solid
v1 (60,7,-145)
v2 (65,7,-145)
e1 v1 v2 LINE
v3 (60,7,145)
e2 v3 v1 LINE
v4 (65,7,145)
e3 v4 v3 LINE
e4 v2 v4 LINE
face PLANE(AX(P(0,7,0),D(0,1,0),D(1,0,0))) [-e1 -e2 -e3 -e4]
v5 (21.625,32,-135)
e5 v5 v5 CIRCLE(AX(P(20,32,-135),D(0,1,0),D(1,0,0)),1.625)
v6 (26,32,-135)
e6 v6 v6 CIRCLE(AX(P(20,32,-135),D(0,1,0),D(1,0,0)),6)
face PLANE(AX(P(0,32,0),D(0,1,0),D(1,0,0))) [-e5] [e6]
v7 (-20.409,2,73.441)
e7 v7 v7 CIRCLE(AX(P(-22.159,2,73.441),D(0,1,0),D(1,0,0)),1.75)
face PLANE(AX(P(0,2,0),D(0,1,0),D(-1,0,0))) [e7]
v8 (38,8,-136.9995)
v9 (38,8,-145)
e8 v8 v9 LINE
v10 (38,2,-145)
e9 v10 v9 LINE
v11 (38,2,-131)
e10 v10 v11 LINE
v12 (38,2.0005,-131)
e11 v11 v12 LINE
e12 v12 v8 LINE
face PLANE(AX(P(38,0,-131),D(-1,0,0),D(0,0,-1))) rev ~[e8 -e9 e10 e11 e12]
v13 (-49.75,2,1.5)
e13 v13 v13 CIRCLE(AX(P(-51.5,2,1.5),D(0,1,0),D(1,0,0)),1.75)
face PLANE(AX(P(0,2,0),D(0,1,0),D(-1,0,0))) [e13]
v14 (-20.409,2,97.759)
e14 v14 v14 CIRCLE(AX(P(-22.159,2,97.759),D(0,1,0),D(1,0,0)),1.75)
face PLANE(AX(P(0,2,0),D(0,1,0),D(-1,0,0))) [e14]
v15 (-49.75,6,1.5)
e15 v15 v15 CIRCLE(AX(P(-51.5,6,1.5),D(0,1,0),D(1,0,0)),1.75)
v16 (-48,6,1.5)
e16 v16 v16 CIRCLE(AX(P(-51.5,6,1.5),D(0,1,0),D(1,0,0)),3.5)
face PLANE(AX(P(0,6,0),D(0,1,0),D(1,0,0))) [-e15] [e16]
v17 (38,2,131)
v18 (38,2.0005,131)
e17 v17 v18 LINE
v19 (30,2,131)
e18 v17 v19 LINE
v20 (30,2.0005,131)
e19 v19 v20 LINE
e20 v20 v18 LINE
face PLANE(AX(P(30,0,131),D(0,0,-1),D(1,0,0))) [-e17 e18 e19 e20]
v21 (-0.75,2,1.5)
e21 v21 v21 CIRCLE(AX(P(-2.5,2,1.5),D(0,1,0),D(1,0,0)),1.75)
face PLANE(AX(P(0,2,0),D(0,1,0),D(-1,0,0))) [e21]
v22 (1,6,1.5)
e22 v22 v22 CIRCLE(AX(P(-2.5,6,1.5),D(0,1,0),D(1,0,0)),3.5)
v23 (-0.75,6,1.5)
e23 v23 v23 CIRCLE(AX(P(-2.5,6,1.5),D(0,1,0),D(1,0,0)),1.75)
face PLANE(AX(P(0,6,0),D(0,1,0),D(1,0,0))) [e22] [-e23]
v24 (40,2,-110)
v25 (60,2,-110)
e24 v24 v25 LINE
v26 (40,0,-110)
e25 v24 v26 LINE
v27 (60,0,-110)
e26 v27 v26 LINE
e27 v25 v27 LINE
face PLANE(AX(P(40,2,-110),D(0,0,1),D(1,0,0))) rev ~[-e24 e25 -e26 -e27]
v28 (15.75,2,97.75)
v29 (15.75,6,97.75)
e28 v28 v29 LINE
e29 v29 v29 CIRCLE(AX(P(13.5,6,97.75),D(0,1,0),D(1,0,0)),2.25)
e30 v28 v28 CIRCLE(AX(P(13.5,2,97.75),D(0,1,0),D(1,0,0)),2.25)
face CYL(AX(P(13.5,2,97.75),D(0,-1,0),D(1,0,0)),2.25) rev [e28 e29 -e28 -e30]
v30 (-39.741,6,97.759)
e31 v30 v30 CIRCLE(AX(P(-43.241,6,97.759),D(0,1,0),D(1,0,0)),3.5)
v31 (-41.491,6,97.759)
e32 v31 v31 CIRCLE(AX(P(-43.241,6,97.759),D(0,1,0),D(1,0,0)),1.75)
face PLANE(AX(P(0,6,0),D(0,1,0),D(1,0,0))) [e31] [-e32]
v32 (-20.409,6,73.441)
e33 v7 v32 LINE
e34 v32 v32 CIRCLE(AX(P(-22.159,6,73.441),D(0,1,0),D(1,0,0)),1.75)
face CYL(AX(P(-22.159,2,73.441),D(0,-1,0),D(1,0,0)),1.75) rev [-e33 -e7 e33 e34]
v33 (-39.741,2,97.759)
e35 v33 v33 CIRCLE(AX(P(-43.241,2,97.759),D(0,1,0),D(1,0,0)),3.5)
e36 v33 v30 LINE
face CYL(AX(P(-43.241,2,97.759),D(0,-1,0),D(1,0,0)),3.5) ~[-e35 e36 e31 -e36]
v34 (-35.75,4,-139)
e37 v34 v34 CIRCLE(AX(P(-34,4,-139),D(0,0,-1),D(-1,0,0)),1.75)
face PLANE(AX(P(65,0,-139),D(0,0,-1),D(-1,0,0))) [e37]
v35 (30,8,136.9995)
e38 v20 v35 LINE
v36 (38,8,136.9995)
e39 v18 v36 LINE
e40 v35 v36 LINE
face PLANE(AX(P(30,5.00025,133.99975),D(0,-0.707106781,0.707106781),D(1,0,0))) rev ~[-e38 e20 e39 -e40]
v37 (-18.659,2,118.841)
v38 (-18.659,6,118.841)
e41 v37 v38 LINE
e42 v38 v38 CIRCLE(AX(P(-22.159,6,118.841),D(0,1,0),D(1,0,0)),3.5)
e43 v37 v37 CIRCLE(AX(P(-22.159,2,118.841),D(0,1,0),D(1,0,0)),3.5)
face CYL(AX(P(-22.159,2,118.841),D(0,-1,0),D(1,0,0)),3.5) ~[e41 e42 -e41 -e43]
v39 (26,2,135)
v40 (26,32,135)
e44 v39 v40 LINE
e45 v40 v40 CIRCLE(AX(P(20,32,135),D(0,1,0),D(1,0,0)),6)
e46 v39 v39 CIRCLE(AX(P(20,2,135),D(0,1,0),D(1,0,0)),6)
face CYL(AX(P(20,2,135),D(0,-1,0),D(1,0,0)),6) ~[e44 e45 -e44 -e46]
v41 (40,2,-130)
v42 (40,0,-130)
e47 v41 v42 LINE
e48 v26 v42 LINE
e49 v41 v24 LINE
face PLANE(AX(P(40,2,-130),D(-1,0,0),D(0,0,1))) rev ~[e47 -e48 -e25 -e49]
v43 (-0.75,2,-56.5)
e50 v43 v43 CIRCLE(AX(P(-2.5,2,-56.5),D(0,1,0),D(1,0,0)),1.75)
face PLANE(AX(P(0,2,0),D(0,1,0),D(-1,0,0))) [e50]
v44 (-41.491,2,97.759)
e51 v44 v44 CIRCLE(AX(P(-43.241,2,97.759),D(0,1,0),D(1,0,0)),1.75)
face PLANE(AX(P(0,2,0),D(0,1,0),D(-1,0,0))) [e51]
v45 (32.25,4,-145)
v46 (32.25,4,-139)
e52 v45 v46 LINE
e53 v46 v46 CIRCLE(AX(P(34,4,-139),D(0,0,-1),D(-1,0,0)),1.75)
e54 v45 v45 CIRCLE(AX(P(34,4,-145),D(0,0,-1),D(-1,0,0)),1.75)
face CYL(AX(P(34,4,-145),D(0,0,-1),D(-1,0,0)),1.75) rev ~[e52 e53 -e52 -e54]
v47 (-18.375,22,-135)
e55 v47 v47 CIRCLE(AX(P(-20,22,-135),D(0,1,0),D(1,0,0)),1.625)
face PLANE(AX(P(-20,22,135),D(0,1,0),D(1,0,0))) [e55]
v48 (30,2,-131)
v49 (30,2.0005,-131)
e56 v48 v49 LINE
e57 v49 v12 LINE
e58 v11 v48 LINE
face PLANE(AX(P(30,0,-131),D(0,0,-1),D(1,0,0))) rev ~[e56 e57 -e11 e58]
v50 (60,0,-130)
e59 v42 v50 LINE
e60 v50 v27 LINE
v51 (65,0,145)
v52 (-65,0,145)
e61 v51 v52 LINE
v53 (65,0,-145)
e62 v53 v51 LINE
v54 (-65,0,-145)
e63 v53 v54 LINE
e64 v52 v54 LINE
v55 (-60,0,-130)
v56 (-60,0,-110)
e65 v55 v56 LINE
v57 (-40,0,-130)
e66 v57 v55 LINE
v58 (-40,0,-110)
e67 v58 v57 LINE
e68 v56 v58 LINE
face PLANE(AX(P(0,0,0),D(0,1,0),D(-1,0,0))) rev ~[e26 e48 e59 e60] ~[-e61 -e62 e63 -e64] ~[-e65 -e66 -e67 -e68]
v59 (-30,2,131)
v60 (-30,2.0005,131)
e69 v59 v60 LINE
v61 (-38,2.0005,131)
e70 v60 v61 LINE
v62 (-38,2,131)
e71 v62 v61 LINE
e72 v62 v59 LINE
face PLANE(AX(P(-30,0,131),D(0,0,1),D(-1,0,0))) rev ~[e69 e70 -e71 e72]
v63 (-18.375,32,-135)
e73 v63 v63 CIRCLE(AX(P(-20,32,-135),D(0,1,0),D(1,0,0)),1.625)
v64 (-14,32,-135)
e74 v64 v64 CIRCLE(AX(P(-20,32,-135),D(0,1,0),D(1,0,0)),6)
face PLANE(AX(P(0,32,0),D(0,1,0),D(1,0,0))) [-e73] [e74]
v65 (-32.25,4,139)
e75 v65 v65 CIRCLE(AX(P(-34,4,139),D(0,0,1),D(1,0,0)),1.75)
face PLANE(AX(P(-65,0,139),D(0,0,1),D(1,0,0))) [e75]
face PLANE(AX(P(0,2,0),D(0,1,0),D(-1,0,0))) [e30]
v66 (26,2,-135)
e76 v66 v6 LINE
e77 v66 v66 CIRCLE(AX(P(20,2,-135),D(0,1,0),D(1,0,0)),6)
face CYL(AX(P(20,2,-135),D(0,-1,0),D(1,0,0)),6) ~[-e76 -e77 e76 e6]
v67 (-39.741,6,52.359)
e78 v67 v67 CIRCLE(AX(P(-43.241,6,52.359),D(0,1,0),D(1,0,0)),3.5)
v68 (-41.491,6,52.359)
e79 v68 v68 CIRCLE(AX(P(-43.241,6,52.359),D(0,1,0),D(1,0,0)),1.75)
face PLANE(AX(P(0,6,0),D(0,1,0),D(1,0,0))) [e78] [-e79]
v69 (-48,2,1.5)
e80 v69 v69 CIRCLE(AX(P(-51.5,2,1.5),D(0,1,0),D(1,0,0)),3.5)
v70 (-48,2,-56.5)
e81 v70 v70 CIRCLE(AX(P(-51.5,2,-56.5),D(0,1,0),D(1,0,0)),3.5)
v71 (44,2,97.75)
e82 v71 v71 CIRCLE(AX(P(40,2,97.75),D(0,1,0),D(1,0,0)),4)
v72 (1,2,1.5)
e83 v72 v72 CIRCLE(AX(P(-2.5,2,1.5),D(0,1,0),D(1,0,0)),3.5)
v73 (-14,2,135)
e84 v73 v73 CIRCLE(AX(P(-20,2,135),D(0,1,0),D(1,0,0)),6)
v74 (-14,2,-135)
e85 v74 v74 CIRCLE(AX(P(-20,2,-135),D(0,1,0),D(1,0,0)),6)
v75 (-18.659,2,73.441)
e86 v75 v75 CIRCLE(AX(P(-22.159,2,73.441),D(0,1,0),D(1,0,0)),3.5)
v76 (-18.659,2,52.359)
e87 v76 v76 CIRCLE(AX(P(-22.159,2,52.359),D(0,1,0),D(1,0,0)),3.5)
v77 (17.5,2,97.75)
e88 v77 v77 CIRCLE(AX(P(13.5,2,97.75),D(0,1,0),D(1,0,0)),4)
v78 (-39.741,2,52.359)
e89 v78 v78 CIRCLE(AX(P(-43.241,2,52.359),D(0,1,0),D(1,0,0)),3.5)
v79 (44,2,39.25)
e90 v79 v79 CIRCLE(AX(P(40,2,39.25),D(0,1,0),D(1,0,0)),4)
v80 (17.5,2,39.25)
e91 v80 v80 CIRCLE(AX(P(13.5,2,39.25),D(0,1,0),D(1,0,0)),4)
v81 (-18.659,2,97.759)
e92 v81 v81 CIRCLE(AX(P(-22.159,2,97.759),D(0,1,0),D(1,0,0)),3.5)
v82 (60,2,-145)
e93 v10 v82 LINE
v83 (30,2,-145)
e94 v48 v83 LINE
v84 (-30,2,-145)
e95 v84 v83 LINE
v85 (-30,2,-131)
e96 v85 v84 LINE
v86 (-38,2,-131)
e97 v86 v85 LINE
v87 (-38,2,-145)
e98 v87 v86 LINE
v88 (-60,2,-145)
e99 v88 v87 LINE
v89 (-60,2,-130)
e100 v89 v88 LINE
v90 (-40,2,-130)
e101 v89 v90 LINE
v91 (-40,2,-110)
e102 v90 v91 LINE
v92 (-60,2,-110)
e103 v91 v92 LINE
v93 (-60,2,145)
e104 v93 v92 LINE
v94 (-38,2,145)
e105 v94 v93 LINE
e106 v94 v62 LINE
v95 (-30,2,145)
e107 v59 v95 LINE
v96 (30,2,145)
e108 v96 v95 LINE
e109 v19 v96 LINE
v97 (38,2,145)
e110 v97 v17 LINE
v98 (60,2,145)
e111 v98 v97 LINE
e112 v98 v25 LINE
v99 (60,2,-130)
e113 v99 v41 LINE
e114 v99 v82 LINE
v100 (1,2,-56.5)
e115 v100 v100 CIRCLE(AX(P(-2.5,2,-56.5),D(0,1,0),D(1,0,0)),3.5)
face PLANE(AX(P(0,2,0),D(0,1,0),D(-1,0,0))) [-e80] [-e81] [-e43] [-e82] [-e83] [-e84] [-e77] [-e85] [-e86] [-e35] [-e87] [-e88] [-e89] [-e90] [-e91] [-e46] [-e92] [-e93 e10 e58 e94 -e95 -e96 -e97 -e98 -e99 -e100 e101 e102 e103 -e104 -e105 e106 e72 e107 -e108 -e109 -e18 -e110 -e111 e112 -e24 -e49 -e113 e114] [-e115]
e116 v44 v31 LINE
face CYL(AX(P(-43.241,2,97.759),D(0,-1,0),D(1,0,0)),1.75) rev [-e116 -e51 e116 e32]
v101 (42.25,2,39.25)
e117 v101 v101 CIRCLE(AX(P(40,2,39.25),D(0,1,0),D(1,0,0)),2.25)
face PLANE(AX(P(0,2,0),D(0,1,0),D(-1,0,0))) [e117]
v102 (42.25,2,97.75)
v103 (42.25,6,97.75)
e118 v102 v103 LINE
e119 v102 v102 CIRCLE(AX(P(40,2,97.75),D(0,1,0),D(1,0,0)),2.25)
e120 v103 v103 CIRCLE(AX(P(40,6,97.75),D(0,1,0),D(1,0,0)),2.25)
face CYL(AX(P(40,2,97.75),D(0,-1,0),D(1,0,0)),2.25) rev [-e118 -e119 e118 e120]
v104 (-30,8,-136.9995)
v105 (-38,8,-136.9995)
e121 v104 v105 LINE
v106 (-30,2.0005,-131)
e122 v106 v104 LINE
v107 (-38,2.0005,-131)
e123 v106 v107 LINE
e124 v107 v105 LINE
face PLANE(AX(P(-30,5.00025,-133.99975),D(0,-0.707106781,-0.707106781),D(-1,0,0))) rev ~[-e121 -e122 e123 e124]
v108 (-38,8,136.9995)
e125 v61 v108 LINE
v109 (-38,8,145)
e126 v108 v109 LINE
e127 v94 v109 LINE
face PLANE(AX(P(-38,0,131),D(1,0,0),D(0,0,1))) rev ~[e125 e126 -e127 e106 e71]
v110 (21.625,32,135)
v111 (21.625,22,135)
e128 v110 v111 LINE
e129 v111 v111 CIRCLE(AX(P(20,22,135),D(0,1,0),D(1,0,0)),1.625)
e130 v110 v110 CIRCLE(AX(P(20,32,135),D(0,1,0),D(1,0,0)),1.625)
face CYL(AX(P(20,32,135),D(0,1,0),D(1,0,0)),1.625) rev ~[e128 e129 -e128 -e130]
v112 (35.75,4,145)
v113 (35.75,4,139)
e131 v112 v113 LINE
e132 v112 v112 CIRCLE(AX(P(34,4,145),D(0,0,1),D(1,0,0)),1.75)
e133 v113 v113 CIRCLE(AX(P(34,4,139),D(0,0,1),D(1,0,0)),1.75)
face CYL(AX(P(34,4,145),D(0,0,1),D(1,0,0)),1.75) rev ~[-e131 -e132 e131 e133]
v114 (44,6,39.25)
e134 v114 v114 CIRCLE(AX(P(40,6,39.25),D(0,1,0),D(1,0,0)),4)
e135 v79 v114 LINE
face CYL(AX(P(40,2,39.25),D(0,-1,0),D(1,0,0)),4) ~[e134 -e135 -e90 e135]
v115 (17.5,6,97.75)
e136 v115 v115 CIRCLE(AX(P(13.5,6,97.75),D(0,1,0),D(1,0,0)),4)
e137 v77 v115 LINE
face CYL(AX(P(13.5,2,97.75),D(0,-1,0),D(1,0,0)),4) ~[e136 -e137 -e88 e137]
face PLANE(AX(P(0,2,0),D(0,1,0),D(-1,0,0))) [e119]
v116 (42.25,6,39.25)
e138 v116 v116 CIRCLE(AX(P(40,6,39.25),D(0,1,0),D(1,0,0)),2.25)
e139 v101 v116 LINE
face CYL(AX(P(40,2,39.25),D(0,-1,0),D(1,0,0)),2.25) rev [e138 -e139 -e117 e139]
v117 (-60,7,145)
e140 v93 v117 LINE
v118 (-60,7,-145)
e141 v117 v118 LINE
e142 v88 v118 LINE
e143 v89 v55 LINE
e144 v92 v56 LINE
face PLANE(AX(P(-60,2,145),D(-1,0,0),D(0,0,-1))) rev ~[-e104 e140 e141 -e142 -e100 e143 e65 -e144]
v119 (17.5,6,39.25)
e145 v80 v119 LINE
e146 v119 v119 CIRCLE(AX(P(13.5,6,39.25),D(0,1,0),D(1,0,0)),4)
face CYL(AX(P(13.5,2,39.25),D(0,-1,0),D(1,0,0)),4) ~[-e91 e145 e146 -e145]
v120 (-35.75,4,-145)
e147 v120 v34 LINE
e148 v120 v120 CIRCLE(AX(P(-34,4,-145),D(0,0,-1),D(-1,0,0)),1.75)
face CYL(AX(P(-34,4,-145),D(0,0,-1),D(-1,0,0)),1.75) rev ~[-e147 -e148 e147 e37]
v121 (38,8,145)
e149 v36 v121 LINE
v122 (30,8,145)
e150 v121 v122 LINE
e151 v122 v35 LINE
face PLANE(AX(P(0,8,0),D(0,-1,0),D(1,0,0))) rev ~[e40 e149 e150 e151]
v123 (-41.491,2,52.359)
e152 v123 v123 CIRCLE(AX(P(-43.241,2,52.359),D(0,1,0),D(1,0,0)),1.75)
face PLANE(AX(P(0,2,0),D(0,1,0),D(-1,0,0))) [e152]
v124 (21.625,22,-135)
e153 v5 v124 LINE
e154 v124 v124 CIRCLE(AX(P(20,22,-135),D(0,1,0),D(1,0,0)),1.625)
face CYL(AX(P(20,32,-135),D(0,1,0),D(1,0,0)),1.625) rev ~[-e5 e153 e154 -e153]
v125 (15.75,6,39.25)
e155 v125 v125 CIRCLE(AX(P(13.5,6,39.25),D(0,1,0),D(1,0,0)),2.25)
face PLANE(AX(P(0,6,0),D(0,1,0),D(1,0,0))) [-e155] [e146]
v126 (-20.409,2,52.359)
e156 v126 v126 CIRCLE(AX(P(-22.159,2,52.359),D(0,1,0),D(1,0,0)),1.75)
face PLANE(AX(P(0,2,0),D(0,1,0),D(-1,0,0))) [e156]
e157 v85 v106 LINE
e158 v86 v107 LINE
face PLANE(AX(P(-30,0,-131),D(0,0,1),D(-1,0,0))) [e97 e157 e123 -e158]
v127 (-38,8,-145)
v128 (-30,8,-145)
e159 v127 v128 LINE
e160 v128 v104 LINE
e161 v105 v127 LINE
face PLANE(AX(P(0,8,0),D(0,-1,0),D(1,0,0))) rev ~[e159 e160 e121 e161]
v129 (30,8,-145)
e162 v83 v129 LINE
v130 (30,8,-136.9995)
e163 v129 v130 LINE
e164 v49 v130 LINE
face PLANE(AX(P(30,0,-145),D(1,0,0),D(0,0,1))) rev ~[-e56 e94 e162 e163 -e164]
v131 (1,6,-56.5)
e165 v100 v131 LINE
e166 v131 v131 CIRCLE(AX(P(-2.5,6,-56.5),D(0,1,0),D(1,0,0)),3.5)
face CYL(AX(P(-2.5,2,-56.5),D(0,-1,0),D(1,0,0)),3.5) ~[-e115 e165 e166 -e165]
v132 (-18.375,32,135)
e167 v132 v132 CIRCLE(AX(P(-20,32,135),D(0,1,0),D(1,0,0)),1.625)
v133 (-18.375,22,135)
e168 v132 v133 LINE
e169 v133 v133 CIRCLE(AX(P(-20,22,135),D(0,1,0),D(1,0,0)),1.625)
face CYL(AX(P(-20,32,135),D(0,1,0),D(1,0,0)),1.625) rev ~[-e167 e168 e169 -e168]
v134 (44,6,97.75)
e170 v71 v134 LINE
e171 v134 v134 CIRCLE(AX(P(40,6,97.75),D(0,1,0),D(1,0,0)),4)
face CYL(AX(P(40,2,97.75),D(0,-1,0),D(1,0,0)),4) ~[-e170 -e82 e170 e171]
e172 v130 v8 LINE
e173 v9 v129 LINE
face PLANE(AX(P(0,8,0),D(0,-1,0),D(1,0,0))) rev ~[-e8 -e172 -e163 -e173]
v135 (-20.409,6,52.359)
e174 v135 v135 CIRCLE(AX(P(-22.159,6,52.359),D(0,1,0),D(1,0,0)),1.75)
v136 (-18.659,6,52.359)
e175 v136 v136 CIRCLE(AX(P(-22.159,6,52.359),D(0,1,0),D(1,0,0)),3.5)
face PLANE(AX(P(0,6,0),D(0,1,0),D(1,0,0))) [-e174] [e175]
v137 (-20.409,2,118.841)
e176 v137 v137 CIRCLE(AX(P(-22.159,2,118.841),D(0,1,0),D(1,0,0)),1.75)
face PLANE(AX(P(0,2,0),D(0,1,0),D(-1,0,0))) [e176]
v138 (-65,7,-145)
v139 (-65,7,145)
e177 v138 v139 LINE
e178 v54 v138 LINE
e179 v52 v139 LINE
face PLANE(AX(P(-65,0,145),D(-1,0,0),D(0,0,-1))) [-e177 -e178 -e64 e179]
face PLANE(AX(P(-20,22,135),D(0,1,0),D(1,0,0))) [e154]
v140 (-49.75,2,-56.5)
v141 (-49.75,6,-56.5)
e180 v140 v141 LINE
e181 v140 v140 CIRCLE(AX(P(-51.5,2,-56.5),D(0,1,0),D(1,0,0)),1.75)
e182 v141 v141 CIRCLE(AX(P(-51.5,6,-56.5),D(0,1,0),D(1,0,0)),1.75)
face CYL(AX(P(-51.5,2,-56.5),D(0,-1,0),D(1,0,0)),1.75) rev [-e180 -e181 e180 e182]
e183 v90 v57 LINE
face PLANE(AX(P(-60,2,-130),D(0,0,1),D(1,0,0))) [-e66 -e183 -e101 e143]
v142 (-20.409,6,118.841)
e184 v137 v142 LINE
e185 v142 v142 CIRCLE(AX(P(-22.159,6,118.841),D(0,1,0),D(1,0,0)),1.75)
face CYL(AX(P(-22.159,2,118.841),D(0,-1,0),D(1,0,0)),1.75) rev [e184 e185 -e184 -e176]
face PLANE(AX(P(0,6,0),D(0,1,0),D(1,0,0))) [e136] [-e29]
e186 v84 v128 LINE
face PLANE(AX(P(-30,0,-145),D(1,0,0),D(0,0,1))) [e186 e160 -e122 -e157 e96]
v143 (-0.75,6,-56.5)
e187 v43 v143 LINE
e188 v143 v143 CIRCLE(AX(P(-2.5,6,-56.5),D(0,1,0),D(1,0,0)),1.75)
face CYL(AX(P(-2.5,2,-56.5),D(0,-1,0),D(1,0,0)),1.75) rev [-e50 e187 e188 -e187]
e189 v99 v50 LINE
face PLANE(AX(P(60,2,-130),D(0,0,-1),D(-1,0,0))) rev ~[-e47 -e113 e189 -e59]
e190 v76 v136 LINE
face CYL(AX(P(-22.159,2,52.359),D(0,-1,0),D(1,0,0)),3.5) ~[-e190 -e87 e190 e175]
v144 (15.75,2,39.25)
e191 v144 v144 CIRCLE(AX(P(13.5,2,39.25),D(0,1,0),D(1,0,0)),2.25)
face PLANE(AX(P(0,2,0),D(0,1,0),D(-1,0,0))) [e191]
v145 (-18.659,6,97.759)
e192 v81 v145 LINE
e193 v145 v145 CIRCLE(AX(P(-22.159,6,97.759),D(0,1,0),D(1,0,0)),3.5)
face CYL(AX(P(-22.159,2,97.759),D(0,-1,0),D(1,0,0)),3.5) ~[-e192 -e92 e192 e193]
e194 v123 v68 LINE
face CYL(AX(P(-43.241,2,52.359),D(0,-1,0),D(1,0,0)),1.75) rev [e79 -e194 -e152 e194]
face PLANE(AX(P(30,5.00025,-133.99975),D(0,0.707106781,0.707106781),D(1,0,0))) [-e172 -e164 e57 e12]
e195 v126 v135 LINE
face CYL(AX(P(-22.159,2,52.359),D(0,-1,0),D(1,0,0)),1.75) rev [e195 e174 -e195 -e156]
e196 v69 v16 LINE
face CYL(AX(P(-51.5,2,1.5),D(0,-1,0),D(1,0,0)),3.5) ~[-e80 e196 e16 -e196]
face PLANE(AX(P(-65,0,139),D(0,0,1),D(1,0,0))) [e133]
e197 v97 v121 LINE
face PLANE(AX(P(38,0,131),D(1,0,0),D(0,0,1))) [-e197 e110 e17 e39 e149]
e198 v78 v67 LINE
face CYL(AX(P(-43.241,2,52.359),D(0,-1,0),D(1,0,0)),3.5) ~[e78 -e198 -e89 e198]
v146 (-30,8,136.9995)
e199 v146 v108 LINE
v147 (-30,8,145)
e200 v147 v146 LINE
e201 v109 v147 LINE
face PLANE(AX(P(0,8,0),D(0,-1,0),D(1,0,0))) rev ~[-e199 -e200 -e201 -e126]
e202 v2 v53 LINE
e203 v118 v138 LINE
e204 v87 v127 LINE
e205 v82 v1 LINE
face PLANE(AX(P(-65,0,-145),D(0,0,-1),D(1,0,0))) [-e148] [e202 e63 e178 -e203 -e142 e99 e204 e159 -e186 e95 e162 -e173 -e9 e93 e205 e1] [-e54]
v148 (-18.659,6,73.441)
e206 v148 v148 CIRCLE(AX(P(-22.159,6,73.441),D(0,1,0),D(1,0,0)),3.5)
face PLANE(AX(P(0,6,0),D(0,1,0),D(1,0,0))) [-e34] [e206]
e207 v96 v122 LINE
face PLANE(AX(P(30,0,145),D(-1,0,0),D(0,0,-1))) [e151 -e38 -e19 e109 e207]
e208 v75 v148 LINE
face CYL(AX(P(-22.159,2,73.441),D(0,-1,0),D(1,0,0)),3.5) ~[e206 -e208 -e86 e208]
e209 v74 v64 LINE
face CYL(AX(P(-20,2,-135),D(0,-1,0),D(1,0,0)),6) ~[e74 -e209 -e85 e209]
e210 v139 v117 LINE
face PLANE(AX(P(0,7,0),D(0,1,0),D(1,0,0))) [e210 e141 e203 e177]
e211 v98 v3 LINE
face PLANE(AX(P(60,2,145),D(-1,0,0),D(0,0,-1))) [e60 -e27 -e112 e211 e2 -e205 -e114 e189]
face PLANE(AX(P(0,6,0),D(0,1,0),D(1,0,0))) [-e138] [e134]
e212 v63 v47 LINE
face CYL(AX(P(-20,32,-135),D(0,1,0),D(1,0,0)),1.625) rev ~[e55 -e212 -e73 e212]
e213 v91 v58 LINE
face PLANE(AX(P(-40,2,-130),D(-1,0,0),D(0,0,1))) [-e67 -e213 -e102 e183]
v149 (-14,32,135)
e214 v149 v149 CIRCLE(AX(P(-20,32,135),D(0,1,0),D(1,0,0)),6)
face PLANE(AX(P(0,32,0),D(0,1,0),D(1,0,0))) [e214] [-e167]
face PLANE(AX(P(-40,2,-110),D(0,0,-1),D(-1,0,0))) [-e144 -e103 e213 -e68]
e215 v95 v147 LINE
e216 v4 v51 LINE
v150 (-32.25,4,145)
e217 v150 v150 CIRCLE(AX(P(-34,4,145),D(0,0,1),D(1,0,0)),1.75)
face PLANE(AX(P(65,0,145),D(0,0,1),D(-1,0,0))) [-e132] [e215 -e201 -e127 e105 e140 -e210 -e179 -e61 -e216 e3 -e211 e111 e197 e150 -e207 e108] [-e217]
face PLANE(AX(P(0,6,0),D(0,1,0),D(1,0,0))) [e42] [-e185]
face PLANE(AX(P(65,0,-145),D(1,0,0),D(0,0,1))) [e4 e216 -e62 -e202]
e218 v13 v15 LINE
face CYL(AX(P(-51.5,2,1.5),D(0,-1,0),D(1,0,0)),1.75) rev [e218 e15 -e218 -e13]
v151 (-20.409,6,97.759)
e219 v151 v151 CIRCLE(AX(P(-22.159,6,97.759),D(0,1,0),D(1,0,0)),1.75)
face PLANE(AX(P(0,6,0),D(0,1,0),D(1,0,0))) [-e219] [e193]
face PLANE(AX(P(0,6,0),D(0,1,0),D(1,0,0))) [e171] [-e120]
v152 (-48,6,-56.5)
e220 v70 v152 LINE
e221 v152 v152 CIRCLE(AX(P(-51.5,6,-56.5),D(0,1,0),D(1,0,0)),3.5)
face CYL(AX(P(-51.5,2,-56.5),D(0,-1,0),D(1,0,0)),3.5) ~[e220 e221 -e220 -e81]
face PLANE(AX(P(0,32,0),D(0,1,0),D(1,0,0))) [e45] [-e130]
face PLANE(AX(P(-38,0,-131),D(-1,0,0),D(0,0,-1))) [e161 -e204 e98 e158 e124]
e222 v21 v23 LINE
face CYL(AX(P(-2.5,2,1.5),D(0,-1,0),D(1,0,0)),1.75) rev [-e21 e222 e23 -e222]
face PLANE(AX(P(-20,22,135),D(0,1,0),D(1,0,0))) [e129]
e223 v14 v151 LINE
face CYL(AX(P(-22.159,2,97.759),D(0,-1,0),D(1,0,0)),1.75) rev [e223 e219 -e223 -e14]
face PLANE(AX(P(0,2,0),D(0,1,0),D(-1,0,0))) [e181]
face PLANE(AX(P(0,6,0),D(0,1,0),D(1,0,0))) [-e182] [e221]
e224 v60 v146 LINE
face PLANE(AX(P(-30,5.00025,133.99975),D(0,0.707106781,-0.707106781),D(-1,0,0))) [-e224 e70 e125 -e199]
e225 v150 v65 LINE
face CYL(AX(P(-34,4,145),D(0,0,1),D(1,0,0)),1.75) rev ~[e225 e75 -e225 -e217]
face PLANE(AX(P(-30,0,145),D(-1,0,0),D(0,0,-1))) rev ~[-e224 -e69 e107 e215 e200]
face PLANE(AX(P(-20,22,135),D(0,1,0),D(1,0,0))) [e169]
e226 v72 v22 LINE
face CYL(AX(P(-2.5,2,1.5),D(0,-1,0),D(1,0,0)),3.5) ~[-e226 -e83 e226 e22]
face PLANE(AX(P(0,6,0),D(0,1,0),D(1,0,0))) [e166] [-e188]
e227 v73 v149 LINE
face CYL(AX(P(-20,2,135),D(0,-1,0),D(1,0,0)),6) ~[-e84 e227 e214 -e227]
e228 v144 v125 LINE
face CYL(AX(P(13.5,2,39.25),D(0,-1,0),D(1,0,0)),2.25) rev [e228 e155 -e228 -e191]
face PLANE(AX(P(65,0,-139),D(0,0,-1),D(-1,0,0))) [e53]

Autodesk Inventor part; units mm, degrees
ref_plane "YZ Plane" through (0, 0, 0) normal (1, 0, 0) x (0, 1, 0)
ref_plane "XZ Plane" through (0, 0, 0) normal (0, 1, 0) x (-1, 0, 0)
ref_plane "XY Plane" through (0, 0, 0) normal (0, 0, 1) x (1, 0, 0)
sketch "Sketch1" plane through (0, 0, 0) normal (0, 1, 0) x (-1, 0, 0)
  line L0 (65, -145) -> (-65, -145)
  line L1 (-65, -145) -> (-65, 145)
  line L2 (-65, 145) -> (65, 145)
  line L3 (65, 145) -> (65, -145)
  line L4 (65, 0) -> (-65, 0) construction
  line L5 (0, -145) -> (0, 145) construction
  point P0 (0, 0)
  point P1 (0, 0)
  dimension "d0" = 130
  dimension "d1" = 290
extrude "Extrusion1" add sketch "Sketch1" along normal blind 2
sketch "Sketch2" plane through (0, 0, 0) normal (0, -1, 0) x (1, 0, 0)
  line L0 (65, -145) -> (-65, -145) construction
  line L1 (0, -145) -> (0, 145) construction
  line L2 (-65, 145) -> (65, 145) construction
  line L3 (65, 145) -> (65, -145) construction
  line L4 (65, 0) -> (-65, 0) construction
  line L5 (-65, -145) -> (-65, 145) construction
  line L6 (-38, -145) -> (-30, -145)
  line L7 (-30, -145) -> (-30, -131)
  line L8 (-30, -131) -> (-38, -131)
  line L9 (-38, -131) -> (-38, -145)
  line L10 (38, -145) -> (30, -145)
  line L11 (30, -145) -> (30, -131)
  line L12 (30, -131) -> (38, -131)
  line L13 (38, -131) -> (38, -145)
  line L14 (-38, 145) -> (-30, 145)
  line L15 (-30, 145) -> (-30, 131)
  line L16 (-30, 131) -> (-38, 131)
  line L17 (-38, 131) -> (-38, 145)
  line L18 (30, 145) -> (30, 131)
  line L19 (38, 131) -> (38, 145)
  line L20 (30, 131) -> (38, 131)
  line L21 (38, 145) -> (30, 145)
  point P0 (0, 0)
  dimension "d4" = 8
  dimension "d5" = 14
  dimension "d6" = 30
extrude "Extrusion2" add sketch "Sketch2" against normal blind 8
chamfer "Chamfer1" distance 6 angle 45 4 edges at (-34, 8, 131) (34, 8, 131) (-34, 8, -131) (34, 8, -131)
sketch "Sketch3" plane through (65, 0, -145) normal (0, 0, -1) x (-1, 0, 0)
  line L0 (65, 0) -> (65, 2) construction
  line L1 (35, 2) -> (95, 2) construction
  circle A0 centre (31, 4) radius 1.75
  line L2 (27, 8) -> (35, 8) projected
  line L3 (35, 2) -> (35, 8) projected
  circle A1 centre (99, 4) radius 1.75
  dimension "d12" = 3.5
  dimension "d13" = 4
  dimension "d14" = 4
extrude "Extrusion3" cut sketch "Sketch3" against normal blind 6
sketch "Sketch4" plane through (-65, 0, 145) normal (0, 0, 1) x (1, 0, 0)
  circle A0 centre (99, 4) radius 1.75 projected
  circle A1 centre (31, 4) radius 1.75 projected
  point P0 (65, 0)
extrude "Extrusion4" cut sketch "Sketch4" against normal blind 6
sketch "Sketch5" plane through (0, 2, 0) normal (0, 1, 0) x (1, 0, 0)
  line L0 (-60, 130) -> (-40, 130)
  line L1 (-40, 130) -> (-40, 110)
  line L2 (-40, 110) -> (-60, 110)
  line L3 (-60, 110) -> (-60, 130)
  line L4 (-38, 145) -> (-65, 145) projected
  line L5 (-65, 145) -> (-65, -145) projected
  line L6 (-65, 145) -> (65, 145) construction
  line L7 (0, 145) -> (0, -145) construction
  line L8 (-30, -145) -> (30, -145) construction
  line L9 (60, 130) -> (40, 130)
  line L10 (40, 130) -> (40, 110)
  line L11 (40, 110) -> (60, 110)
  line L12 (60, 110) -> (60, 130)
  point P0 (0, 0)
  dimension "d19" = 20
  dimension "d20" = 20
  dimension "d21" = 15
  dimension "d22" = 5
extrude "Extrusion5" cut sketch "Sketch5" against normal up to next
sketch "Sketch6" plane through (0, 2, 0) normal (0, 1, 0) x (1, 0, 0)
  line L0 (-51.5, -1.5) -> (-2.5, -1.5) construction
  line L1 (-2.5, -1.5) -> (-2.5, 56.5) construction
  line L2 (-2.5, 56.5) -> (-51.5, 56.5) construction
  line L3 (-51.5, 56.5) -> (-51.5, -1.5) construction
  line L4 (65, -145) -> (-65, -145) construction
  line L5 (-65, 145) -> (65, 145) construction
  line L6 (-27, -1.5) -> (-27, 56.5) construction
  line L7 (-40, 110) -> (-60, 110) construction
  line L8 (-55, -5) -> (1, -5) construction
  line L9 (1, -5) -> (1, 80) construction
  line L10 (1, 80) -> (-55, 80) construction
  line L11 (-55, 80) -> (-55, -5) construction
  circle A0 centre (-2.5, -1.5) radius 1.75
  circle A1 centre (-51.5, -1.5) radius 1.75
  circle A2 centre (-51.5, 56.5) radius 1.75
  circle A3 centre (-2.5, 56.5) radius 1.75
  circle A4 centre (-2.5, -1.5) radius 3.5
  circle A5 centre (-2.5, 56.5) radius 3.5
  circle A6 centre (-51.5, -1.5) radius 3.5
  circle A7 centre (-51.5, 56.5) radius 3.5
  line L12 (-65, 145) -> (-65, -145) projected
  point P0 (0, 0)
  dimension "d25" = 49
  dimension "d26" = 58
  dimension "d28" = 56
  dimension "d29" = 85
  dimension "d30" = 3.5
  dimension "d31" = 3.5
  dimension "d32" = 30
  dimension "d33" = 3.5
  dimension "d34" = 3.5
  dimension "d35" = 3.5
  dimension "d36" = 3.5
  dimension "d79" = 10
extrude "Extrusion6" add sketch "Sketch6" along normal blind 4
sketch "Sketch7" plane through (0, 2, 0) normal (0, 1, 0) x (1, 0, 0)
  line L0 (-45.4, -121) -> (-20, -121) construction
  line L1 (-20, -121) -> (-20, -50.2) construction
  line L2 (-20, -50.2) -> (-45.4, -50.2) construction
  line L3 (-45.4, -50.2) -> (-45.4, -121) construction
  line L4 (-30, -145) -> (30, -145) construction
  line L5 (30, 145) -> (-30, 145) construction
  line L6 (-38, -131) -> (-30, -131) construction
  line L7 (-20, -121) -> (-45.4, -121) construction
  line L8 (-45.4, -121) -> (-45.4, -95.6) construction
  line L9 (-45.4, -95.6) -> (-20, -95.6) construction
  line L10 (-20, -95.6) -> (-20, -121) construction
  line L11 (-45.4, -75.6) -> (-20, -75.6) construction
  line L12 (-20, -75.6) -> (-20, -50.2) construction
  line L13 (-20, -50.2) -> (-45.4, -50.2) construction
  line L14 (-45.4, -50.2) -> (-45.4, -75.6) construction
  line L15 (-20, -108.3) -> (-45.4, -108.3) construction
  line L16 (-43.241, -118.841) -> (-22.159, -118.841) construction
  line L17 (-22.159, -118.841) -> (-22.159, -97.759) construction
  line L18 (-22.159, -97.759) -> (-43.241, -97.759) construction
  line L19 (-43.241, -97.759) -> (-43.241, -118.841) construction
  line L20 (-43.241, -108.3) -> (-22.159, -108.3) construction
  line L21 (-32.7, -118.841) -> (-32.7, -97.759) construction
  circle A0 centre (-43.241, -97.759) radius 1.75
  circle A1 centre (-43.241, -97.759) radius 3.5
  circle A2 centre (-22.159, -97.759) radius 1.75
  circle A3 centre (-22.159, -97.759) radius 3.5
  circle A4 centre (-22.159, -118.841) radius 1.75
  circle A5 centre (-22.159, -118.841) radius 3.5
  line L22 (-43.241, -73.441) -> (-22.159, -73.441) construction
  line L23 (-22.159, -73.441) -> (-22.159, -52.359) construction
  line L24 (-22.159, -52.359) -> (-43.241, -52.359) construction
  line L25 (-43.241, -52.359) -> (-43.241, -73.441) construction
  line L26 (-43.241, -62.9) -> (-22.159, -62.9) construction
  line L27 (-32.7, -73.441) -> (-32.7, -52.359) construction
  circle A6 centre (-43.241, -52.359) radius 3.5
  circle A7 centre (-43.241, -52.359) radius 1.75
  circle A8 centre (-22.159, -52.359) radius 3.5
  circle A9 centre (-22.159, -52.359) radius 1.75
  circle A10 centre (-22.159, -73.441) radius 3.5
  circle A11 centre (-22.159, -73.441) radius 1.75
  line L28 (-45.4, -62.9) -> (-20, -62.9) construction
  line L29 (65, -145) -> (-65, -145) construction
  line L30 (0, -145) -> (0, 145) construction
  point P0 (0, 0)
  point P1 (-32.7, -108.3)
  point P2 (-32.7, -62.9)
  dimension "d39" = 25.4
  dimension "d40" = 10
  dimension "d41" = 25.4
  dimension "d42" = 25.4
  dimension "d57" = 21.082
  dimension "d58" = 21.082
  dimension "d61" = 3.5
  dimension "d62" = 7
  dimension "d63" = 3.5
  dimension "d64" = 7
  dimension "d65" = 3.5
  dimension "d66" = 7
  dimension "d67" = 21.082
  dimension "d68" = 21.082
  dimension "d71" = 3.5
  dimension "d72" = 7
  dimension "d73" = 3.5
  dimension "d74" = 7
  dimension "d76" = 7
  dimension "d91" = 20
  dimension "d92" = 20
extrude "Extrusion7" add sketch "Sketch7" along normal blind 4
sketch "Sketch8" plane through (0, 2, 0) normal (0, 1, 0) x (1, 0, 0)
  line L0 (-65, 145) -> (65, 145) construction
  line L1 (0, 145) -> (0, -145) construction
  line L2 (-30, -145) -> (30, -145) construction
  line L3 (-65, -145) -> (-65, 145) construction
  line L4 (-65, 0) -> (65, 0) construction
  line L5 (65, 145) -> (65, -145) construction
  circle A0 centre (-20, 135) radius 6
  circle A1 centre (20, 135) radius 6
  circle A2 centre (-20, -135) radius 6
  circle A3 centre (20, -135) radius 6
  point P0 (0, 0)
  dimension "d80" = 12
  dimension "d81" = 10
  dimension "d82" = 40
extrude "Extrusion8" add sketch "Sketch8" along normal blind 30
sketch "Sketch9" plane through (-20, 32, 135) normal (0, 1, 0) x (1, 0, 0)
  circle A0 centre (0, 0) radius 6 projected
  circle A1 centre (40, 0) radius 6 projected
  circle A2 centre (0, 270) radius 6 projected
  circle A3 centre (40, 270) radius 6 projected
  line L0 (-45, 280) -> (-45, -10) construction
  line L1 (-45, 135) -> (85, 135) construction
  line L2 (85, -10) -> (85, 280) construction
  line L3 (-45, 280) -> (85, 280) construction
  line L4 (20, 280) -> (20, -10) construction
  line L5 (-10, -10) -> (50, -10) construction
  circle A4 centre (0, 270) radius 1.625
  circle A5 centre (40, 270) radius 1.625
  circle A6 centre (0, 0) radius 1.625
  circle A7 centre (40, 0) radius 1.625
  point P0 (20, 135)
  dimension "d85" = 3.25
extrude "Extrusion9" cut sketch "Sketch9" against normal blind 10 contours A4 | A5 | A6 | A7
sketch "Sketch10" plane through (0, 2, 0) normal (0, 1, 0) x (1, 0, 0)
  line L0 (65, -145) -> (-65, -145) construction
  line L1 (0, -145) -> (0, 145) construction
  line L2 (-65, 145) -> (65, 145) construction
  line L3 (65, -145) -> (60, -145)
  line L4 (60, -145) -> (60, 145)
  line L5 (60, 145) -> (65, 145)
  line L6 (65, 145) -> (65, -145)
  line L7 (-65, -145) -> (-60, -145)
  line L8 (-60, -145) -> (-60, 145)
  line L9 (-60, 145) -> (-65, 145)
  line L10 (-65, 145) -> (-65, -145)
  point P0 (0, 0)
  point P1 (-65, 145)
extrude "Extrusion10" add sketch "Sketch10" along normal blind 5
sketch "Sketch11" plane through (0, 2, 0) normal (0, 1, 0) x (1, 0, 0)
  line L0 (13.5, -97.75) -> (40, -97.75) construction
  line L1 (40, -97.75) -> (40, -39.25) construction
  line L2 (40, -39.25) -> (13.5, -39.25) construction
  line L3 (13.5, -39.25) -> (13.5, -97.75) construction
  line L4 (60, 145) -> (60, -145) construction
  line L5 (3.75, -101) -> (49.75, -101) construction
  line L6 (49.75, -101) -> (49.75, -36) construction
  line L7 (49.75, -36) -> (3.75, -36) construction
  line L8 (3.75, -36) -> (3.75, -101) construction
  line L9 (26.75, -97.75) -> (26.75, -39.25) construction
  line L10 (13.5, -68.5) -> (40, -68.5) construction
  line L11 (30, -131) -> (38, -131) construction
  circle A0 centre (13.5, -97.75) radius 2.25
  circle A1 centre (13.5, -97.75) radius 4
  circle A2 centre (13.5, -39.25) radius 2.25
  circle A3 centre (13.5, -39.25) radius 4
  circle A4 centre (40, -39.25) radius 2.25
  circle A5 centre (40, -39.25) radius 4
  circle A6 centre (40, -97.75) radius 2.25
  circle A7 centre (40, -97.75) radius 4
  point P0 (0, 0)
  dimension "d93" = 26.5
  dimension "d94" = 58.5
  dimension "d95" = 20
  dimension "d96" = 46
  dimension "d97" = 65
  dimension "d98" = 30
  dimension "d99" = 4.5
  dimension "d100" = 8
  dimension "d101" = 4.5
  dimension "d102" = 8
  dimension "d103" = 4.5
  dimension "d104" = 8
  dimension "d105" = 4.5
  dimension "d106" = 8
extrude "Extrusion11" add sketch "Sketch11" along normal blind 4
properties part number "raspi_board_tray"
